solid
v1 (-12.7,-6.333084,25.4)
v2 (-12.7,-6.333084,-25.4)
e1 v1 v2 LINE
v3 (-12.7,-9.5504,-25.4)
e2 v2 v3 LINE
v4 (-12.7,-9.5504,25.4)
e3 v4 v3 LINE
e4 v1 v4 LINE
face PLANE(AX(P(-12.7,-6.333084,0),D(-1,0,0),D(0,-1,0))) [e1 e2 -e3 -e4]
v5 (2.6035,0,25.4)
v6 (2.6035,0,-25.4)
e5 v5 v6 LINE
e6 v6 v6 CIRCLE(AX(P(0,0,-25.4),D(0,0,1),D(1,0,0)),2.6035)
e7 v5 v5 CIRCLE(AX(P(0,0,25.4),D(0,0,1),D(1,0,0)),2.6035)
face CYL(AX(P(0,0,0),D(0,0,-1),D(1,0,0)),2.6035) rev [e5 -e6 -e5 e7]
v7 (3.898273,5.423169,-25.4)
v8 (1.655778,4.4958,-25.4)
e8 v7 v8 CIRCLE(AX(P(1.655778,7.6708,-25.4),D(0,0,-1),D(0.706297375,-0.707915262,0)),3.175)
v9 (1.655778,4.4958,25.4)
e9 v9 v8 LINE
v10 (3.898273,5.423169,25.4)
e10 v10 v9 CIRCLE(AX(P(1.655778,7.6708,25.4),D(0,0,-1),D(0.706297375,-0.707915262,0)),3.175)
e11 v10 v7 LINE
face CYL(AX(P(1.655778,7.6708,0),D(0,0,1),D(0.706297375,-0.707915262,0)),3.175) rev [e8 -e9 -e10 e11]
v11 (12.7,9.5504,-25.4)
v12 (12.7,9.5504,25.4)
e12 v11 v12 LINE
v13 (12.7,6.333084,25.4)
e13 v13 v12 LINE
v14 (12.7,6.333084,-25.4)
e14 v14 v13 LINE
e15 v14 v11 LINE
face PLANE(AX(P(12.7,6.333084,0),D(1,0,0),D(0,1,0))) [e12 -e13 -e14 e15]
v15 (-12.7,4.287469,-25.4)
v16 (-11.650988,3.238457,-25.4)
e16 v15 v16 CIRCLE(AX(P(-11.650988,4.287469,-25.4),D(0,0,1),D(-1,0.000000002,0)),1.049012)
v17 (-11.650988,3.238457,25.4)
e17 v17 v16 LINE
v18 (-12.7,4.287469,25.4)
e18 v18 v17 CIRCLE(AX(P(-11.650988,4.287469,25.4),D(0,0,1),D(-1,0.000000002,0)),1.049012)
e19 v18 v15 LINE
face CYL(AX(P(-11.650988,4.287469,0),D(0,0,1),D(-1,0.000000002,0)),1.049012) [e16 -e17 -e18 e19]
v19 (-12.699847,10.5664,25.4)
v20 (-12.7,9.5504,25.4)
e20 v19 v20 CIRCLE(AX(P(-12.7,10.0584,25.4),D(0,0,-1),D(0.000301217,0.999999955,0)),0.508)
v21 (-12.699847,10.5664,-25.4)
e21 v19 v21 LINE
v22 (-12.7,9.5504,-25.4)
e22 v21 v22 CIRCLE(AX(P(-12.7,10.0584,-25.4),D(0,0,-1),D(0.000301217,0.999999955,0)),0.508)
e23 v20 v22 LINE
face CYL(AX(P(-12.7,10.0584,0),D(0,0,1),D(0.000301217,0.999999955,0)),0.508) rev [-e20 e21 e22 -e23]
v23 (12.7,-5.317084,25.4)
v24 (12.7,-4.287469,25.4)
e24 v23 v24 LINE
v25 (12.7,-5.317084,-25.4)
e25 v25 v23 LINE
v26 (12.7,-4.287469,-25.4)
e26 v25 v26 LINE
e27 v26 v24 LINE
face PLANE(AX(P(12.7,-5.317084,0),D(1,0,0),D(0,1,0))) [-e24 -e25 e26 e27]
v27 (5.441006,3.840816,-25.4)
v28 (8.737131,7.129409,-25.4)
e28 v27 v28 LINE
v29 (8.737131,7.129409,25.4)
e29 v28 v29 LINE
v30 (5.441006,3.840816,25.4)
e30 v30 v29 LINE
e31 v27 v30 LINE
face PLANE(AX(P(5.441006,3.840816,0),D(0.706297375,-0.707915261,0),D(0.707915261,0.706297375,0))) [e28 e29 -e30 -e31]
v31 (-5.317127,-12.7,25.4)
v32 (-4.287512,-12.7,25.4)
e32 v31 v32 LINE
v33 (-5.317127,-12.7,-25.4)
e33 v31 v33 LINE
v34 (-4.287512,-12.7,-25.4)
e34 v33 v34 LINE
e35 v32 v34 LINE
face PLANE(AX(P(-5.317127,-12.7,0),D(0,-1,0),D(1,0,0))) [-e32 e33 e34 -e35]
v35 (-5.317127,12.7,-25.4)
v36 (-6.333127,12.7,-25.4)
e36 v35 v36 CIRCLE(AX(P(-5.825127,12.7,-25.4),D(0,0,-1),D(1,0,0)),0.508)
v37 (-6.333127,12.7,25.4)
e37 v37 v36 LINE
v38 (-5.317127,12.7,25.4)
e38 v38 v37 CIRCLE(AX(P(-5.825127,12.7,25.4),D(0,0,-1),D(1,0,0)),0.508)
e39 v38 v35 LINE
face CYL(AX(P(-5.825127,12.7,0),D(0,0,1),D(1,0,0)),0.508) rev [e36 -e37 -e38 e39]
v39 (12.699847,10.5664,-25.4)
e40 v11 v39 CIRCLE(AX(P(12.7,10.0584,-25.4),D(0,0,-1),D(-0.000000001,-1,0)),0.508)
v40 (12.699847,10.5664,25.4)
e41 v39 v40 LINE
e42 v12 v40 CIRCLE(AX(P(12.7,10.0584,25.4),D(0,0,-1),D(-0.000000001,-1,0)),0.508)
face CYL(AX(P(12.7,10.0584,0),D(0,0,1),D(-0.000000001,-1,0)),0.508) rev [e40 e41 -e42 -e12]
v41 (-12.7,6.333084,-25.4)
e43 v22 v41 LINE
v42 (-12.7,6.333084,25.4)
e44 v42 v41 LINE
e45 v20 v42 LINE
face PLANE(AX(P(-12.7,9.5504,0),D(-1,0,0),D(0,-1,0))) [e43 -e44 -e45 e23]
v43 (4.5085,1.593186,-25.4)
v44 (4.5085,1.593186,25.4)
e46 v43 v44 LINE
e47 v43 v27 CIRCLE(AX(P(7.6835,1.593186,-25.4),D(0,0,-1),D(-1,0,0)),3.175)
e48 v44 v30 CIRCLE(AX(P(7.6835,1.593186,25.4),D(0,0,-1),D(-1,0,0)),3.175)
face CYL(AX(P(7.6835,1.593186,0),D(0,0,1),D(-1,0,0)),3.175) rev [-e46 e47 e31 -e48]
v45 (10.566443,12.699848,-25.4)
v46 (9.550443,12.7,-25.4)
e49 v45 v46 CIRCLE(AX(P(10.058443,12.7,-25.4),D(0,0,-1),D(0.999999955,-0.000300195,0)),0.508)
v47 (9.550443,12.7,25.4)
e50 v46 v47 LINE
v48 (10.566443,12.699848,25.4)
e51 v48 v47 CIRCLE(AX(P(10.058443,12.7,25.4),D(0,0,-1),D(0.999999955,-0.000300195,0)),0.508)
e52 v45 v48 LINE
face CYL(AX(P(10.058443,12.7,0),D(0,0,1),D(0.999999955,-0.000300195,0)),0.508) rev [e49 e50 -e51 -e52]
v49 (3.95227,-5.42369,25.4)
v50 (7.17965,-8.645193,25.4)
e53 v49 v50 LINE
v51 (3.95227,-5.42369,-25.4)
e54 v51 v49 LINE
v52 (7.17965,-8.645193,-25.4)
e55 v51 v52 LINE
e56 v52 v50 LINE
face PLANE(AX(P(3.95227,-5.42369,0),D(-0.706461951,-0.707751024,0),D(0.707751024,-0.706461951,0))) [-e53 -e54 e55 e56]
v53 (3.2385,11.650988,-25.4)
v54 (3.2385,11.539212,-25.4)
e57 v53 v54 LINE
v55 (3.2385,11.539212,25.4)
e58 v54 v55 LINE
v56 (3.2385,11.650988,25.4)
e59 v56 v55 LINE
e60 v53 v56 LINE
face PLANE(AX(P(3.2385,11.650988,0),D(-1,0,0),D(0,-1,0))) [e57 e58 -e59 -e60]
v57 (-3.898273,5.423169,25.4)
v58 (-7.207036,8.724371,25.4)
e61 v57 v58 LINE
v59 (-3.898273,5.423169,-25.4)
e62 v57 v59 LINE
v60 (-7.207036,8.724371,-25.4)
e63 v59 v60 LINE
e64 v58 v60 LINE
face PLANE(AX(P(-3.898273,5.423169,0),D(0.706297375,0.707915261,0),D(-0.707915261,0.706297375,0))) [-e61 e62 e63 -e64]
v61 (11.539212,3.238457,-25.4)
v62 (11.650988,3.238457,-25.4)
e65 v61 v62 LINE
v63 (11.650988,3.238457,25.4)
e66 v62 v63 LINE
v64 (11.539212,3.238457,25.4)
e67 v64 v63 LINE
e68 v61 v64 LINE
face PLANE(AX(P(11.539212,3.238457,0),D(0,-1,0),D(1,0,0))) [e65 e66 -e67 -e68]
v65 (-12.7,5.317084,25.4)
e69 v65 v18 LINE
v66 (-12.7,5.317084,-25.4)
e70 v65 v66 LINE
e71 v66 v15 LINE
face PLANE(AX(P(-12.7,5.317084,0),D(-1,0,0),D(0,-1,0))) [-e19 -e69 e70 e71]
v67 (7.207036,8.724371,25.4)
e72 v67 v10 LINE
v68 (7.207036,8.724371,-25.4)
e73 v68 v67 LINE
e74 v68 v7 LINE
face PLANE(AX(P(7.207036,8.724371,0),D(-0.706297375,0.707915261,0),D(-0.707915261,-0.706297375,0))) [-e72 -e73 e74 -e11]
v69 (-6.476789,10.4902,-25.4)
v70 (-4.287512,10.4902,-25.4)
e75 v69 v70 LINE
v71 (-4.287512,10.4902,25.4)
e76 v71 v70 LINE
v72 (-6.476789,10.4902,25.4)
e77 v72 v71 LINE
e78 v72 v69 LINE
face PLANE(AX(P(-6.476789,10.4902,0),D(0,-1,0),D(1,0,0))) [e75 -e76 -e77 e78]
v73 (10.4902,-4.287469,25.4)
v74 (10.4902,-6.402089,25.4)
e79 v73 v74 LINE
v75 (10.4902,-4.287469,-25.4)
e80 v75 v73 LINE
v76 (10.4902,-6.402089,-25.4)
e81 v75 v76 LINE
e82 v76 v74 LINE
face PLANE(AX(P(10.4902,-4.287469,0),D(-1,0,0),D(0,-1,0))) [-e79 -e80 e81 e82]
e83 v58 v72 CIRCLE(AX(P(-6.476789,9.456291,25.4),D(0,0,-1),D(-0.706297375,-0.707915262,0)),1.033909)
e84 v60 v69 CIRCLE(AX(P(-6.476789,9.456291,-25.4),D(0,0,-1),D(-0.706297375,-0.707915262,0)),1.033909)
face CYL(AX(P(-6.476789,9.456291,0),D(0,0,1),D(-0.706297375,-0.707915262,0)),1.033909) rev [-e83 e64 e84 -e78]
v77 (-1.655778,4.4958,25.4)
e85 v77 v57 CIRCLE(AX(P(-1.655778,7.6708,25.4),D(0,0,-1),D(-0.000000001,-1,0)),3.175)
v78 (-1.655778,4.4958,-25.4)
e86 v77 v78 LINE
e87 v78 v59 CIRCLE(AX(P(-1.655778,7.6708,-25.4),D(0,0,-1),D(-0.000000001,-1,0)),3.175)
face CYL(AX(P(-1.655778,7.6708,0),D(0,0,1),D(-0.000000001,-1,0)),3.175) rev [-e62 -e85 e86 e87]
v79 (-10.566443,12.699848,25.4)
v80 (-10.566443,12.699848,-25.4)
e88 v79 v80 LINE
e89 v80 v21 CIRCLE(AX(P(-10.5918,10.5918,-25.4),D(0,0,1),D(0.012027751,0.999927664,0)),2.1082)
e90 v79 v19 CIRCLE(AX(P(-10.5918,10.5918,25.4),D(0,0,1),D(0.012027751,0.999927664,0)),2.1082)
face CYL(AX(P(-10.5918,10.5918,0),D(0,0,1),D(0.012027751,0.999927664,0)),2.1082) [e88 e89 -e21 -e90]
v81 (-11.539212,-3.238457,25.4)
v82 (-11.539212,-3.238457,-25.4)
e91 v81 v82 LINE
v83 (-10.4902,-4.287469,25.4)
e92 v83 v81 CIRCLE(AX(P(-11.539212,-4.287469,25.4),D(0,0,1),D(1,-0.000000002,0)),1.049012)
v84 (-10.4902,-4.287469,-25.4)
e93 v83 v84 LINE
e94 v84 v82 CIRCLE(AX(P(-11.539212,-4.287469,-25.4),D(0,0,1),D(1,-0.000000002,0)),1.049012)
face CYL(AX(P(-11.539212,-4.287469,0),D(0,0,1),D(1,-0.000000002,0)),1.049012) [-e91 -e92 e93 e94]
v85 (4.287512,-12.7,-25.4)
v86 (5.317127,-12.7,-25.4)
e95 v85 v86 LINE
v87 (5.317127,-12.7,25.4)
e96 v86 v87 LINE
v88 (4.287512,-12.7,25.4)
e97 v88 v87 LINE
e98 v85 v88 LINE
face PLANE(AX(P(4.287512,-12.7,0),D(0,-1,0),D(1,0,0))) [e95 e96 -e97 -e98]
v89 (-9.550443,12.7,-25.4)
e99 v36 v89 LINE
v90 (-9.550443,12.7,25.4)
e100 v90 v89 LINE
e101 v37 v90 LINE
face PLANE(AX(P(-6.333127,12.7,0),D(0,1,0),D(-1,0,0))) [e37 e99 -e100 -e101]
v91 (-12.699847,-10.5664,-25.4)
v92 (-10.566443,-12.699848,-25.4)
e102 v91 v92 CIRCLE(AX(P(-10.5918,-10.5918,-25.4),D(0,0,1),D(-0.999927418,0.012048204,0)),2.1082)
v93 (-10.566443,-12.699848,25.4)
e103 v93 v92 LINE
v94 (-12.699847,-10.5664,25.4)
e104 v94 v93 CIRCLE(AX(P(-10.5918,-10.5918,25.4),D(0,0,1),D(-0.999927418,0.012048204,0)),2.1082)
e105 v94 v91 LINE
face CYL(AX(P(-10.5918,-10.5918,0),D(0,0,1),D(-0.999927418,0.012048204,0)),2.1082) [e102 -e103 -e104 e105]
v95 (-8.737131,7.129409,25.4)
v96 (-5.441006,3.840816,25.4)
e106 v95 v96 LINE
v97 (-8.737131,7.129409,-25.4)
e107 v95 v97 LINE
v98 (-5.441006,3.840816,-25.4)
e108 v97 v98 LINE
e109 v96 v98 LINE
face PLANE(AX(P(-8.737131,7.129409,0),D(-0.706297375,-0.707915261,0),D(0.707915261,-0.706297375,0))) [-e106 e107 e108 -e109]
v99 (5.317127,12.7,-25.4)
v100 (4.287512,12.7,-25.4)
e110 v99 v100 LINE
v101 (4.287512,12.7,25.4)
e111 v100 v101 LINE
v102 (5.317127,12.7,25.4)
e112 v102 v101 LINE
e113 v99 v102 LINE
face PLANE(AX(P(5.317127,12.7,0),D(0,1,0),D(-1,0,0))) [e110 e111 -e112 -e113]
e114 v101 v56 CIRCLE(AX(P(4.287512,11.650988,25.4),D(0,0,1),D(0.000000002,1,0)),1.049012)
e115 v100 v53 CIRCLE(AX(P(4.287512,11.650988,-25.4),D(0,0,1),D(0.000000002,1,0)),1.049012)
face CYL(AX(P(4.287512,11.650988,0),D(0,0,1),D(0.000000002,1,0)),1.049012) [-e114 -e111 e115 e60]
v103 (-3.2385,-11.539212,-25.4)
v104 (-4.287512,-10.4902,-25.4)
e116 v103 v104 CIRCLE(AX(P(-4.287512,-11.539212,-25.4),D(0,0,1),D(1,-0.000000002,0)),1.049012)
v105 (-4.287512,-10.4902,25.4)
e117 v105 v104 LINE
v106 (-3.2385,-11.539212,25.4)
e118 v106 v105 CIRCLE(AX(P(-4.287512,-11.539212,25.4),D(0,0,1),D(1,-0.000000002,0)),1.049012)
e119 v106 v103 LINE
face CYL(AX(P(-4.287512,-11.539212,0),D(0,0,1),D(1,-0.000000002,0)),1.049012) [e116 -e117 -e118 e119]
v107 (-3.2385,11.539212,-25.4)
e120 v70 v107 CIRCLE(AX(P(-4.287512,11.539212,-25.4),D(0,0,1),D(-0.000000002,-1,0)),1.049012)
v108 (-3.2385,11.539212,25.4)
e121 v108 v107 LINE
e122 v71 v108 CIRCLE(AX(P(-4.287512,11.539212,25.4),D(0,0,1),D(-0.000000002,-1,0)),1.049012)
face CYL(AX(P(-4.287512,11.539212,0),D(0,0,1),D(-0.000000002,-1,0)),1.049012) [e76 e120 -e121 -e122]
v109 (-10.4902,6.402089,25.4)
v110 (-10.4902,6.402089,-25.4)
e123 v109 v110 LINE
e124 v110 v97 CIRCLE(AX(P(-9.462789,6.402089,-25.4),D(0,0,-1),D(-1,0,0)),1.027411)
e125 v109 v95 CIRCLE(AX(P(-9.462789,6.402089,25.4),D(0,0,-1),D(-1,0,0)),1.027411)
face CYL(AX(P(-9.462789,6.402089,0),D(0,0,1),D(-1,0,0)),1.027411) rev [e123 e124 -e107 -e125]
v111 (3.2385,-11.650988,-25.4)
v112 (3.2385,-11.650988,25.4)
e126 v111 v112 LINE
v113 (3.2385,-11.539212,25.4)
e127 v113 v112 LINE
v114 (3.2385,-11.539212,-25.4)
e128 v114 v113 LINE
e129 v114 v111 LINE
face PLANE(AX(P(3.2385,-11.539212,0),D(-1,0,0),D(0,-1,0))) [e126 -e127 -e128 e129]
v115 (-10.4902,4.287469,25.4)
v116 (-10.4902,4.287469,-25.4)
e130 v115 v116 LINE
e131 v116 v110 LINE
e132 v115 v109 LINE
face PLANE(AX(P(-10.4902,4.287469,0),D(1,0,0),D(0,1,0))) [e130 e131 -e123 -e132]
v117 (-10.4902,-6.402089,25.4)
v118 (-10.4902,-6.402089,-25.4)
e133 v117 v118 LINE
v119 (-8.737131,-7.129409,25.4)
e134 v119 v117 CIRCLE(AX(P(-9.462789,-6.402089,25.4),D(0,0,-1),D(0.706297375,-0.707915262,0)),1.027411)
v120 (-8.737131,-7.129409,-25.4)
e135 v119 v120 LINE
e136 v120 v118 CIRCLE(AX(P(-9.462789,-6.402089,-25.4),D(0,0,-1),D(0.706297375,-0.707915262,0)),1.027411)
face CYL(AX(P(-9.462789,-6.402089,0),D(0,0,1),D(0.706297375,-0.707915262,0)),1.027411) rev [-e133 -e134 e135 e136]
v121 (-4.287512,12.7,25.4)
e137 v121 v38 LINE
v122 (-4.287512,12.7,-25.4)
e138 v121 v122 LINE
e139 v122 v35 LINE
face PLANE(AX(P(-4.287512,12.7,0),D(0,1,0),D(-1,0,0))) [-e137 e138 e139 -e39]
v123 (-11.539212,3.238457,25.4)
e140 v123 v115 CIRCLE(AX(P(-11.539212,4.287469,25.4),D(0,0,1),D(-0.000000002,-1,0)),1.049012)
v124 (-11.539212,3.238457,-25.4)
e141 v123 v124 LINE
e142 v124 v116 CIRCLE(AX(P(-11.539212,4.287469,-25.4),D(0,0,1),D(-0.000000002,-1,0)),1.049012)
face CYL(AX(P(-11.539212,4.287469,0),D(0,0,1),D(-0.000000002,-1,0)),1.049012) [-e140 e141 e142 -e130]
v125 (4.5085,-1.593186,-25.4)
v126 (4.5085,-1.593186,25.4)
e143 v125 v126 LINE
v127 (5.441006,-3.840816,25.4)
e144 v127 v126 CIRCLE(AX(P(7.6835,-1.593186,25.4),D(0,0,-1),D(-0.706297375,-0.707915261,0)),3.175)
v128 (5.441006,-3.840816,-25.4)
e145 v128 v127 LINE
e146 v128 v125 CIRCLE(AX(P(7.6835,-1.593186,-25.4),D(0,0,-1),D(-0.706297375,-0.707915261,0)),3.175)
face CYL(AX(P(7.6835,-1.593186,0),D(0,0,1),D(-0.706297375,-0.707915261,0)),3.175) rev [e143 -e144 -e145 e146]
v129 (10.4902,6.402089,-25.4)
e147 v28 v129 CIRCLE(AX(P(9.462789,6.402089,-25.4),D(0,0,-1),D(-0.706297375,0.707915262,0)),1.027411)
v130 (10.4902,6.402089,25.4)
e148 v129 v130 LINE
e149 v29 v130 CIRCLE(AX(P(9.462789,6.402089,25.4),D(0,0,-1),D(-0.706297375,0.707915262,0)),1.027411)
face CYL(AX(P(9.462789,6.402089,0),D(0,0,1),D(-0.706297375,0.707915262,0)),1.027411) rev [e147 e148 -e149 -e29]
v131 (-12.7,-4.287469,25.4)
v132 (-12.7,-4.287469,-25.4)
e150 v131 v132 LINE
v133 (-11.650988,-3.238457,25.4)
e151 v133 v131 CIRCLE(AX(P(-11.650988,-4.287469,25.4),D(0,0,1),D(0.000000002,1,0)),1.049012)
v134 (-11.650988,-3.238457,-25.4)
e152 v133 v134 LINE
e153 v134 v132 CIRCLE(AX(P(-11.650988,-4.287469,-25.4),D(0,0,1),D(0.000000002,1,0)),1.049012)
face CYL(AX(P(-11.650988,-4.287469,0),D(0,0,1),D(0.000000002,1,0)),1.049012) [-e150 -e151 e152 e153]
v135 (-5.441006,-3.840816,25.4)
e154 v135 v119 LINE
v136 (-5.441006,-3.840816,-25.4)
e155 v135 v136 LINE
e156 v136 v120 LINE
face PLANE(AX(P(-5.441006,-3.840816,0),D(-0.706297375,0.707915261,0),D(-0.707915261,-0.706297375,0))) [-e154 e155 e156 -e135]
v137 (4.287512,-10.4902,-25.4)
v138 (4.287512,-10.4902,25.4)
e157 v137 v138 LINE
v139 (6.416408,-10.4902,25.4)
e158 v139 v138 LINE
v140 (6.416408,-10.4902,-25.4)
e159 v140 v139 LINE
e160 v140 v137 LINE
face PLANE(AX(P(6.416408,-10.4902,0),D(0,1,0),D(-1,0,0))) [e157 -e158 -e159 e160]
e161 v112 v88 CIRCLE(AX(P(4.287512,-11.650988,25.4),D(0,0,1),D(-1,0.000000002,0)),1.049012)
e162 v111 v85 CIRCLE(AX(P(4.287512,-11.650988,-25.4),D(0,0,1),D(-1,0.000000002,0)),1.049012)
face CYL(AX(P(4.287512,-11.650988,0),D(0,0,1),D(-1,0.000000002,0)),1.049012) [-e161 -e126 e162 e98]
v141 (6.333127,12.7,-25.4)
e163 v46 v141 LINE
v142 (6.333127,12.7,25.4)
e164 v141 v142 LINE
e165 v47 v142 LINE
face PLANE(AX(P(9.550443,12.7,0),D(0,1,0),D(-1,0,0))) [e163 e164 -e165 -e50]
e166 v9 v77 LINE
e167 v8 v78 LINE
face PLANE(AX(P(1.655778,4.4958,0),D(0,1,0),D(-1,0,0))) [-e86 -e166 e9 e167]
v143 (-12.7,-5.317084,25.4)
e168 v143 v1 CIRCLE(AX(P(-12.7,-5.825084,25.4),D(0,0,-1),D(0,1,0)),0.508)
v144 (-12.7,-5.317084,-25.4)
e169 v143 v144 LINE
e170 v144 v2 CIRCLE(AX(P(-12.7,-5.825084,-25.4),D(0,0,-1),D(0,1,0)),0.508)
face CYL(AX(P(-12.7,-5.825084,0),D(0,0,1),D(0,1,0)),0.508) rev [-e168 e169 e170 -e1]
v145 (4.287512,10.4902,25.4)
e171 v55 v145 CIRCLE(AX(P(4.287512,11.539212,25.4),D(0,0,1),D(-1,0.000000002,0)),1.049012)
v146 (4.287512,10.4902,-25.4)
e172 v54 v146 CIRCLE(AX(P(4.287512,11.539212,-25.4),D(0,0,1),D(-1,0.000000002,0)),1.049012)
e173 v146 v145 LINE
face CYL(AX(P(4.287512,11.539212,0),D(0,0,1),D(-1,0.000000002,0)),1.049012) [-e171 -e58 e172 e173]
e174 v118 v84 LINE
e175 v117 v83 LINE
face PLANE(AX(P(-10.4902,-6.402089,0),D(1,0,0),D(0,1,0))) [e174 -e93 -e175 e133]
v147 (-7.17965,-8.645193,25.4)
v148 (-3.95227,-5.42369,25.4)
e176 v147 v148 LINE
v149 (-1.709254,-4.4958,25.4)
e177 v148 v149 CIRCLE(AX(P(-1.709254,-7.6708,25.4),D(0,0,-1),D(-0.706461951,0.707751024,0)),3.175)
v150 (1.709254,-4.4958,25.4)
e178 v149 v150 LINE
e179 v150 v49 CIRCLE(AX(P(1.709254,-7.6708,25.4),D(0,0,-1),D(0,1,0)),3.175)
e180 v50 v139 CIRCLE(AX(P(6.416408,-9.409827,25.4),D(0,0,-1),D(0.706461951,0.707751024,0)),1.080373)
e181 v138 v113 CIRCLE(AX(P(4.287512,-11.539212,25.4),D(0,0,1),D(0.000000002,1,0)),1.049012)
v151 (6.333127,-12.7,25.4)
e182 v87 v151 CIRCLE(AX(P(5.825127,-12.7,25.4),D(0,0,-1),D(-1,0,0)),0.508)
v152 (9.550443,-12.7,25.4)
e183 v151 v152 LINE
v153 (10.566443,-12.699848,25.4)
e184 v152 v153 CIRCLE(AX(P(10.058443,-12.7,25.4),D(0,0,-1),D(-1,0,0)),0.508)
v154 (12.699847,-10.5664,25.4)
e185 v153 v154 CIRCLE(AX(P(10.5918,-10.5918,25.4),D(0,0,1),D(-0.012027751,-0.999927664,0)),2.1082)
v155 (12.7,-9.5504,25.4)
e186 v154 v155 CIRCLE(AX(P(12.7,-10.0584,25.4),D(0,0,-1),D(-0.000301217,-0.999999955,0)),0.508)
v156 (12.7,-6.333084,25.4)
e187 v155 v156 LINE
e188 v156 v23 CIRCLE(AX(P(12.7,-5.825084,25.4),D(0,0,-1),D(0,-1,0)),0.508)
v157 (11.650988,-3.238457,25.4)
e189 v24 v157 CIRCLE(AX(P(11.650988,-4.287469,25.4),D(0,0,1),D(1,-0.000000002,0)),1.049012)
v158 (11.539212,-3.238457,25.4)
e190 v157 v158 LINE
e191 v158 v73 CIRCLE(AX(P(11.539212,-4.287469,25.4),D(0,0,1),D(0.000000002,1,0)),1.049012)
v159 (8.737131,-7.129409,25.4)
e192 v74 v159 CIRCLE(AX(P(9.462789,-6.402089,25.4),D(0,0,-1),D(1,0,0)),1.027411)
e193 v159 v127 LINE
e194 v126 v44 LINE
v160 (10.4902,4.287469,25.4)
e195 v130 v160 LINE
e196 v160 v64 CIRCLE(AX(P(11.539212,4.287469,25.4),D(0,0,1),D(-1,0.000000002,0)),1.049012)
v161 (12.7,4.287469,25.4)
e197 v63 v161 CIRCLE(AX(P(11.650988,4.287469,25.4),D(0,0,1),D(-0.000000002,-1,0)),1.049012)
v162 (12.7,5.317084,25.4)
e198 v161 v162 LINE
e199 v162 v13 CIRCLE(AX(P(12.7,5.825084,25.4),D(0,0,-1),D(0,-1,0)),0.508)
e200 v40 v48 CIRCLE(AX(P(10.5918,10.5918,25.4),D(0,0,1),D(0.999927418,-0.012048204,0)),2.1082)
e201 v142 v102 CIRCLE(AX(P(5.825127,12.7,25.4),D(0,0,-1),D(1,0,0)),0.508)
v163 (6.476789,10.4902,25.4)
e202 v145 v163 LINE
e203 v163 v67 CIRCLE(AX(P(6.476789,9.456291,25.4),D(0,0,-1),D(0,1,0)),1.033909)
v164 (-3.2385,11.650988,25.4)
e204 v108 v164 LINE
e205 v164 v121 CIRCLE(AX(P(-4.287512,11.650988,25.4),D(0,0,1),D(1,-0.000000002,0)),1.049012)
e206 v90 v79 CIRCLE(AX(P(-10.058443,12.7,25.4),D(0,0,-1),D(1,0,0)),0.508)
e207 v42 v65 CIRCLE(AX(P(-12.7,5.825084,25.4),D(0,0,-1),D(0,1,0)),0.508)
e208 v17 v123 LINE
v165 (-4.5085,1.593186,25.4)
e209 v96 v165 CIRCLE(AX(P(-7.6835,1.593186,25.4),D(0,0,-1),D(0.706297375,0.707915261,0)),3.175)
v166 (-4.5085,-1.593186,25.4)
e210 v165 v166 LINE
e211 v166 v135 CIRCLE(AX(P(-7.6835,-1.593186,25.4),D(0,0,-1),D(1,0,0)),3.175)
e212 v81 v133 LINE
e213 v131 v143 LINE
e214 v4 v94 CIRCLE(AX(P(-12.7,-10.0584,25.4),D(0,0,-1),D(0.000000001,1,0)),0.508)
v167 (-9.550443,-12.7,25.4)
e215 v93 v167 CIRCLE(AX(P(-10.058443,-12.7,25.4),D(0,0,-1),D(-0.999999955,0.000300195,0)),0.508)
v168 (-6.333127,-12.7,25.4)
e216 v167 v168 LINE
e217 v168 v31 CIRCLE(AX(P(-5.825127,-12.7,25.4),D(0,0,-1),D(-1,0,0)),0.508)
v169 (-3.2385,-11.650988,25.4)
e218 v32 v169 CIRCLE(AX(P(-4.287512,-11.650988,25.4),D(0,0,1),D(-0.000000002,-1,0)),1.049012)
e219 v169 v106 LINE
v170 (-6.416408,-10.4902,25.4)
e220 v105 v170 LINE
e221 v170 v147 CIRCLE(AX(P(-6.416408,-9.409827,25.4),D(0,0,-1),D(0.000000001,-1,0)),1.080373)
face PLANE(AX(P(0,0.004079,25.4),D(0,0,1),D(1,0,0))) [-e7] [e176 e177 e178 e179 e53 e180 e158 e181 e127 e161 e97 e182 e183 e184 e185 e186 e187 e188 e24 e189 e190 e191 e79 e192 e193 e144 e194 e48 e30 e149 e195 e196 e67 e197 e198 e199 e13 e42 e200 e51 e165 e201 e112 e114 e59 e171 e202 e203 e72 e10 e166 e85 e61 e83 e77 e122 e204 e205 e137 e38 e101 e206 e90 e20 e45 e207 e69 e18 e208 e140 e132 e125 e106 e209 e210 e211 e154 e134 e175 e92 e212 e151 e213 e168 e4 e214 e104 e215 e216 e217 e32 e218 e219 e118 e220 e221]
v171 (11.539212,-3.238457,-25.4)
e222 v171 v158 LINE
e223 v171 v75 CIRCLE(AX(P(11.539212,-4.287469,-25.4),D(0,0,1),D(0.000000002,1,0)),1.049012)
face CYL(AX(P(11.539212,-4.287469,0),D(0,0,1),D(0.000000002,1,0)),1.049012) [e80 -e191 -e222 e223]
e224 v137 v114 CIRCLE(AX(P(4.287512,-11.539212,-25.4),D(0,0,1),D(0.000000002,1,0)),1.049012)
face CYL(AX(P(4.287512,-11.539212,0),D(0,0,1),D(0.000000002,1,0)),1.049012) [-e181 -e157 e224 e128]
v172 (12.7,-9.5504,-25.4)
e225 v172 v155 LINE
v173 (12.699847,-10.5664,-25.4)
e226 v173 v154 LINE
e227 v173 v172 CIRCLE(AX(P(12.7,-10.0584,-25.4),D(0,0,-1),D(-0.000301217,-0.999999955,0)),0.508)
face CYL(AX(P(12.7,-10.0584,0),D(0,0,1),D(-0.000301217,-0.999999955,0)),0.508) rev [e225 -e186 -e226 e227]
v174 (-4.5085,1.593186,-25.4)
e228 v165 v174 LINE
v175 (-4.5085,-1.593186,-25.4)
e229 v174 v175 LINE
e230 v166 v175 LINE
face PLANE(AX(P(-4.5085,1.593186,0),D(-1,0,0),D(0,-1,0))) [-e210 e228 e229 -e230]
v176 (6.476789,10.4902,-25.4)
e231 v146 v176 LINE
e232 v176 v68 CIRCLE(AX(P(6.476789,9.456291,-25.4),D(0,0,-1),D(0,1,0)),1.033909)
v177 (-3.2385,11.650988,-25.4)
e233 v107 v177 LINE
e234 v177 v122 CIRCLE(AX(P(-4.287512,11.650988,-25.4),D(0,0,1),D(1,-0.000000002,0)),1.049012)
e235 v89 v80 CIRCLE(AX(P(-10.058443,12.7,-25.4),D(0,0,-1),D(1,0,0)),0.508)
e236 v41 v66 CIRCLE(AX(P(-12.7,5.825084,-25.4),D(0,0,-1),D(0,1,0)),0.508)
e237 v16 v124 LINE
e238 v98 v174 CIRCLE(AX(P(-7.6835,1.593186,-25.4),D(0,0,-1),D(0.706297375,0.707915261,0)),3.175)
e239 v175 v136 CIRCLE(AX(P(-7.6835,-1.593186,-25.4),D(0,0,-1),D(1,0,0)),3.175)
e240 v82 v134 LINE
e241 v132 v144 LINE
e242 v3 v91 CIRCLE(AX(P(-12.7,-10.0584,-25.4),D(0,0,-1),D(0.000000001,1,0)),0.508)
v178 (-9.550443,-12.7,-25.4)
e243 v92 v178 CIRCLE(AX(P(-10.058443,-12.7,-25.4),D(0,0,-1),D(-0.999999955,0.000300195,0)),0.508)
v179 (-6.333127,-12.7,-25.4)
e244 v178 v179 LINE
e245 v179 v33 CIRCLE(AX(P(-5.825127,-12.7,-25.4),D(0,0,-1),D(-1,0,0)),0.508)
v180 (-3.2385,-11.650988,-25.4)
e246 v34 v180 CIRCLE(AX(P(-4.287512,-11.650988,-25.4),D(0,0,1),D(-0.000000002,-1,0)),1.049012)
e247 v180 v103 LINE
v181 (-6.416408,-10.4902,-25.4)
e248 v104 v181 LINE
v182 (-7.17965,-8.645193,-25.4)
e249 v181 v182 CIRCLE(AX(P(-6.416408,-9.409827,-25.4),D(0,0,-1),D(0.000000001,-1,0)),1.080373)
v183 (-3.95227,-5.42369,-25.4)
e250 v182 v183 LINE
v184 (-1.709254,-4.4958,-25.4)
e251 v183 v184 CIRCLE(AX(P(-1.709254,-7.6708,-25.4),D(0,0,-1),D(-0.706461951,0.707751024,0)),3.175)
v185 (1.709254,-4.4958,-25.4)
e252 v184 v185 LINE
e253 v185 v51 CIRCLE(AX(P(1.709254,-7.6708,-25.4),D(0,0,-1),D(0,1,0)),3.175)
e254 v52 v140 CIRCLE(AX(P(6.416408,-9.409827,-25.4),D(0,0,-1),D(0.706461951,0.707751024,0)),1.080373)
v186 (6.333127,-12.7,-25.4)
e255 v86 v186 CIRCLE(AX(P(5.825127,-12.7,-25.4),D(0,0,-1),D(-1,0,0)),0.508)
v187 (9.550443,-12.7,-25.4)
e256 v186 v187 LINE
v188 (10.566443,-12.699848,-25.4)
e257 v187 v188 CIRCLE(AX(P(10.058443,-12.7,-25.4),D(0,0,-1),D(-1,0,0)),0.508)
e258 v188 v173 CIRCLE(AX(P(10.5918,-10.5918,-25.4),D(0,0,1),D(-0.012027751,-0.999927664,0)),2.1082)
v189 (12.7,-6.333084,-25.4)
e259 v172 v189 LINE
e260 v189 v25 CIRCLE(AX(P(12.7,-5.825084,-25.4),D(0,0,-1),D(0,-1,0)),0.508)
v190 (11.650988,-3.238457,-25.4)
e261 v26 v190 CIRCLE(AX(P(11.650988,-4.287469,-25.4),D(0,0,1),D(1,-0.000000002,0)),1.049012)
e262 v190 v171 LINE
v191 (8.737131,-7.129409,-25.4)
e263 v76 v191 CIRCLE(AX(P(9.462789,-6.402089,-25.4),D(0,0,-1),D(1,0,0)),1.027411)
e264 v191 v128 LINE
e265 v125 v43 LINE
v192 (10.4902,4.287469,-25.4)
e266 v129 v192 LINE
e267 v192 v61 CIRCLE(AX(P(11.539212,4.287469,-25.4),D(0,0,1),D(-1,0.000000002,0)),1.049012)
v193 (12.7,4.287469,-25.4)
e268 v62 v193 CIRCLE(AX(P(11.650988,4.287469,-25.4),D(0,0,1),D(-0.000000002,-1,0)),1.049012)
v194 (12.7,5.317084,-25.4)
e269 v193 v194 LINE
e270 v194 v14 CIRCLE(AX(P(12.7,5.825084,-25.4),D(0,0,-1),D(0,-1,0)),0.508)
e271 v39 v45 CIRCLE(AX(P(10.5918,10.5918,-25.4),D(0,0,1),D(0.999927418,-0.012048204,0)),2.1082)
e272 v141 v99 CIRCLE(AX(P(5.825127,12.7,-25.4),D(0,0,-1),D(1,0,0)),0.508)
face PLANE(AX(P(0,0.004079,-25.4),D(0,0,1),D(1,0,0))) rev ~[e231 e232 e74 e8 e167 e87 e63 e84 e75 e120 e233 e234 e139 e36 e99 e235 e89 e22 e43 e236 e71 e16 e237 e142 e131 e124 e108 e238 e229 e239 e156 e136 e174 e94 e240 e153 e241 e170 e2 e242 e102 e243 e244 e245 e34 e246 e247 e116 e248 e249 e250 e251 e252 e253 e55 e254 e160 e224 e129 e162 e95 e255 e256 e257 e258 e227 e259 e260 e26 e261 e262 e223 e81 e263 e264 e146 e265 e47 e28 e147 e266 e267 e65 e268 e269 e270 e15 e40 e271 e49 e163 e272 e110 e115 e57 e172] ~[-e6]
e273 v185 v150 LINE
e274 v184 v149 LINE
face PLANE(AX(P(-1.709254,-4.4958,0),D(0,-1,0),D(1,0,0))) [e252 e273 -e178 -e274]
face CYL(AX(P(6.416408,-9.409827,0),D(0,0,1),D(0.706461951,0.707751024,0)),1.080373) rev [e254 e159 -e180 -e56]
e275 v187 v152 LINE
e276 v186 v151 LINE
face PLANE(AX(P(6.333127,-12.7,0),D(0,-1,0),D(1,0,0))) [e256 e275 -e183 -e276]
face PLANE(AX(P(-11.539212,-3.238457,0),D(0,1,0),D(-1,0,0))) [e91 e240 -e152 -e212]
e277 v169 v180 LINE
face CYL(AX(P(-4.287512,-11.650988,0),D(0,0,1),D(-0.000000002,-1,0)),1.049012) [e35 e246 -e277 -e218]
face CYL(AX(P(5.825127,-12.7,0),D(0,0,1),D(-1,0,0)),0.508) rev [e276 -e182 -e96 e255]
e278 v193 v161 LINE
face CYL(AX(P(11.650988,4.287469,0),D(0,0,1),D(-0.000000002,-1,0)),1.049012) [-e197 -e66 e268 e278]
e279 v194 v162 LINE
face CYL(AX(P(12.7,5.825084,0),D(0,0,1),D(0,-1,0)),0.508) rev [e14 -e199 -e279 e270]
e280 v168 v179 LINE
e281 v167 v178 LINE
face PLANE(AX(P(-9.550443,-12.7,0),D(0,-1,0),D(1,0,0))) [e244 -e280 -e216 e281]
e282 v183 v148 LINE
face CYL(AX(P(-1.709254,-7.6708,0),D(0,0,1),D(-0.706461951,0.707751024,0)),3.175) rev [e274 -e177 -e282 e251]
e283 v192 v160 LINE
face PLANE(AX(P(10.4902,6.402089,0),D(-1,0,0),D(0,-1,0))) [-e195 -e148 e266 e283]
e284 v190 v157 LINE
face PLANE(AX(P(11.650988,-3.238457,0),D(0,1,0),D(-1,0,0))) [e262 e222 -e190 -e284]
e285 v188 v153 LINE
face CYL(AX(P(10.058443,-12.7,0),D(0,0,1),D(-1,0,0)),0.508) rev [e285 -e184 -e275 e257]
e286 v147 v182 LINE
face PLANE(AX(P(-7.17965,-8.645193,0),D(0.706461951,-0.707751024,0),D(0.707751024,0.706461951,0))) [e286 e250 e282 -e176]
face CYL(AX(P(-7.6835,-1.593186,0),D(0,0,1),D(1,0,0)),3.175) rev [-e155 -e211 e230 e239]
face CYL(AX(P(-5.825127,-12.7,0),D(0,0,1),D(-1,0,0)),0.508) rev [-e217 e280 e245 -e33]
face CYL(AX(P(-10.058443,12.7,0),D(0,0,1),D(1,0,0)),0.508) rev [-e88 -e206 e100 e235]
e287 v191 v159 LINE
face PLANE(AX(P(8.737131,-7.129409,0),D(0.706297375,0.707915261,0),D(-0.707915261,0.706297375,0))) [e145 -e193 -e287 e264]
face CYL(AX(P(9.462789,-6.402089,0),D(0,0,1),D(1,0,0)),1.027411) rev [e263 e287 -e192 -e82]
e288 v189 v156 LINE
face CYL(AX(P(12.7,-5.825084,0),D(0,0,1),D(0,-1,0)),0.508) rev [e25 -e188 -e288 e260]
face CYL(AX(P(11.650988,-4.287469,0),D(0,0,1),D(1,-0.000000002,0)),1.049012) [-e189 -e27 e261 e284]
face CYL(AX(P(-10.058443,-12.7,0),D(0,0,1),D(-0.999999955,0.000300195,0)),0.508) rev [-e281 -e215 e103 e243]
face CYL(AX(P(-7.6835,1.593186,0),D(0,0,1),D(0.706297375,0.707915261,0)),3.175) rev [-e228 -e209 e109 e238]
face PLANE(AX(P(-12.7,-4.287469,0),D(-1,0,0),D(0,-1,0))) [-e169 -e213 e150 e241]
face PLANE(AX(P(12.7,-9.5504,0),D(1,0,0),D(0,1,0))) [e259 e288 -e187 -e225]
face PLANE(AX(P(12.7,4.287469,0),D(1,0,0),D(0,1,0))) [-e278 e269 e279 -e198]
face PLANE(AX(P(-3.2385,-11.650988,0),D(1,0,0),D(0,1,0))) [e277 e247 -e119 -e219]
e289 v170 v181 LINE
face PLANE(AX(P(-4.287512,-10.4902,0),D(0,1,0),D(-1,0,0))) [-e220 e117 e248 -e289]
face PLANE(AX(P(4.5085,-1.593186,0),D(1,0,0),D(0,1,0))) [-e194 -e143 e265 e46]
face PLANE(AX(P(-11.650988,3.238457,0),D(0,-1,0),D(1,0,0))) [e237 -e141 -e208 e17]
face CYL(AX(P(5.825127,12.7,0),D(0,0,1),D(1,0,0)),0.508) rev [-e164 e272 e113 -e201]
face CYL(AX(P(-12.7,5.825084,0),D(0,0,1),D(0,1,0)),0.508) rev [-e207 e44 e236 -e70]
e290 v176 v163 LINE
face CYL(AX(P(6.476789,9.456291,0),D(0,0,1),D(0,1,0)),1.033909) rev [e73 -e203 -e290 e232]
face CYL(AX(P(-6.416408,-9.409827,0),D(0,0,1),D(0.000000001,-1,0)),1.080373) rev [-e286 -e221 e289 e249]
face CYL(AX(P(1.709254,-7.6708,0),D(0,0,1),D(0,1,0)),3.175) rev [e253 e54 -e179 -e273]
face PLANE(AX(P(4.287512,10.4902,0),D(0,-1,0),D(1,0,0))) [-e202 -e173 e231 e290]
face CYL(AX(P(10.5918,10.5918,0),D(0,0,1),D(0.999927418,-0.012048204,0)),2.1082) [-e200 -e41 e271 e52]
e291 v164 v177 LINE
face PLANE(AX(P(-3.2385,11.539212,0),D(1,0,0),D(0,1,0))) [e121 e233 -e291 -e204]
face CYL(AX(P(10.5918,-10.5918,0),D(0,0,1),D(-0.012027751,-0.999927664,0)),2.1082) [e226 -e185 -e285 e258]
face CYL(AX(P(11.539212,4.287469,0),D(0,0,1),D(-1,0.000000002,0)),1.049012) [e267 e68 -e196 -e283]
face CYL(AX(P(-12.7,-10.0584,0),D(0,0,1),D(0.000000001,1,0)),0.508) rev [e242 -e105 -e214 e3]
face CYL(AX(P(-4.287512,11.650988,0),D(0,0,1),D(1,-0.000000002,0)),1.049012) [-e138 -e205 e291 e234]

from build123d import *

# Parameters (mm, degrees)
SKETCH1_R           = 2.6035
BOSS_EXTRUDE1_DEPTH = 25.4


with BuildPart() as part:
    # Sketch1 → Boss-Extrude1 (new, symmetric)
    with BuildSketch(Plane.XY):
        with BuildLine():
            Line((-7.179650497, -8.645192506), (-3.952270251, -5.423690499))
            ThreePointArc((-3.952270251, -5.423690499), (-2.922936451, -4.736929036), (-1.709253557, -4.4958))
            Line((-1.709253557, -4.4958), (1.709253557, -4.4958))
            ThreePointArc((1.709253557, -4.4958), (2.922936451, -4.736929036), (3.952270251, -5.423690499))
            Line((3.952270251, -5.423690499), (7.179650497, -8.645192506))
            ThreePointArc((7.179650497, -8.645192506), (7.41473083, -9.822813117), (6.416408329, -10.4902))
            Line((6.416408329, -10.4902), (4.287512407, -10.4902))
            ThreePointArc((4.287512407, -10.4902), (3.54574862, -10.79744862), (3.2385, -11.539212407))
            Line((3.2385, -11.539212407), (3.2385, -11.650987593))
            ThreePointArc((3.2385, -11.650987593), (3.54574862, -12.39275138), (4.287512407, -12.7))
            Line((4.287512407, -12.7), (5.317126718, -12.7))
            ThreePointArc((5.317126718, -12.7), (5.825126718, -12.192), (6.333126718, -12.7))
            Line((6.333126718, -12.7), (9.550443118, -12.7))
            ThreePointArc((9.550443118, -12.7), (10.058366869, -12.192000006), (10.566443095, -12.699847501))
            ThreePointArc((10.566443095, -12.699847501), (12.082537762, -12.08250727), (12.699846982, -10.566399977))
            ThreePointArc((12.699846982, -10.566399977), (12.192000006, -10.058323491), (12.7, -9.5504))
            Line((12.7, -9.5504), (12.7, -6.3330836))
            ThreePointArc((12.7, -6.3330836), (12.192, -5.8250836), (12.7, -5.3170836))
            Line((12.7, -5.3170836), (12.7, -4.287469289))
            ThreePointArc((12.7, -4.287469289), (12.39275138, -3.545705502), (11.650987593, -3.238456882))
            Line((11.650987593, -3.238456882), (11.539212407, -3.238456882))
            ThreePointArc((11.539212407, -3.238456882), (10.79744862, -3.545705502), (10.4902, -4.287469289))
            Line((10.4902, -4.287469289), (10.4902, -6.402089023))
            ThreePointArc((10.4902, -6.402089023), (9.856505071, -7.351067942), (8.737131347, -7.129408934))
            Line((8.737131347, -7.129408934), (5.441005833, -3.840816462))
            ThreePointArc((5.441005833, -3.840816462), (4.750877967, -2.809883091), (4.5085, -1.593185507))
            Line((4.5085, -1.593185507), (4.5085, 1.593185507))
            ThreePointArc((4.5085, 1.593185507), (4.750877967, 2.809883091), (5.441005833, 3.840816462))
            Line((5.441005833, 3.840816462), (8.737131347, 7.129408934))
            ThreePointArc((8.737131347, 7.129408934), (9.856505071, 7.351067942), (10.4902, 6.402089023))
            Line((10.4902, 6.402089023), (10.4902, 4.287469289))
            ThreePointArc((10.4902, 4.287469289), (10.79744862, 3.545705502), (11.539212407, 3.238456882))
            Line((11.539212407, 3.238456882), (11.650987593, 3.238456882))
            ThreePointArc((11.650987593, 3.238456882), (12.39275138, 3.545705502), (12.7, 4.287469289))
            Line((12.7, 4.287469289), (12.7, 5.3170836))
            ThreePointArc((12.7, 5.3170836), (12.192, 5.8250836), (12.7, 6.3330836))
            Line((12.7, 6.3330836), (12.7, 9.5504))
            ThreePointArc((12.7, 9.5504), (12.192000006, 10.058323491), (12.699846982, 10.566399977))
            ThreePointArc((12.699846982, 10.566399977), (12.082537762, 12.08250727), (10.566443095, 12.699847501))
            ThreePointArc((10.566443095, 12.699847501), (10.058366869, 12.192000006), (9.550443118, 12.7))
            Line((9.550443118, 12.7), (6.333126718, 12.7))
            ThreePointArc((6.333126718, 12.7), (5.825126718, 12.192), (5.317126718, 12.7))
            Line((5.317126718, 12.7), (4.287512407, 12.7))
            ThreePointArc((4.287512407, 12.7), (3.54574862, 12.39275138), (3.2385, 11.650987593))
            Line((3.2385, 11.650987593), (3.2385, 11.539212407))
            ThreePointArc((3.2385, 11.539212407), (3.54574862, 10.79744862), (4.287512407, 10.4902))
            Line((4.287512407, 10.4902), (6.476788598, 10.4902))
            ThreePointArc((6.476788598, 10.4902), (7.432222385, 9.85140422), (7.207036008, 8.724370562))
            Line((7.207036008, 8.724370562), (3.898272566, 5.423169045))
            ThreePointArc((3.898272566, 5.423169045), (2.869120213, 4.736787962), (1.655778399, 4.4958))
            Line((1.655778399, 4.4958), (-1.655778399, 4.4958))
            ThreePointArc((-1.655778399, 4.4958), (-2.869120213, 4.736787962), (-3.898272566, 5.423169045))
            Line((-3.898272566, 5.423169045), (-7.207036008, 8.724370562))
            ThreePointArc((-7.207036008, 8.724370562), (-7.432222385, 9.85140422), (-6.476788598, 10.4902))
            Line((-6.476788598, 10.4902), (-4.287512407, 10.4902))
            ThreePointArc((-4.287512407, 10.4902), (-3.54574862, 10.79744862), (-3.2385, 11.539212407))
            Line((-3.2385, 11.539212407), (-3.2385, 11.650987593))
            ThreePointArc((-3.2385, 11.650987593), (-3.54574862, 12.39275138), (-4.287512407, 12.7))
            Line((-4.287512407, 12.7), (-5.317126718, 12.7))
            ThreePointArc((-5.317126718, 12.7), (-5.825126718, 12.192), (-6.333126718, 12.7))
            Line((-6.333126718, 12.7), (-9.550443118, 12.7))
            ThreePointArc((-9.550443118, 12.7), (-10.058366869, 12.192000006), (-10.566443095, 12.699847501))
            ThreePointArc((-10.566443095, 12.699847501), (-12.082537762, 12.08250727), (-12.699846982, 10.566399977))
            ThreePointArc((-12.699846982, 10.566399977), (-12.192000006, 10.058323491), (-12.7, 9.5504))
            Line((-12.7, 9.5504), (-12.7, 6.3330836))
            ThreePointArc((-12.7, 6.3330836), (-12.192, 5.8250836), (-12.7, 5.3170836))
            Line((-12.7, 5.3170836), (-12.7, 4.287469289))
            ThreePointArc((-12.7, 4.287469289), (-12.39275138, 3.545705502), (-11.650987593, 3.238456882))
            Line((-11.650987593, 3.238456882), (-11.539212407, 3.238456882))
            ThreePointArc((-11.539212407, 3.238456882), (-10.79744862, 3.545705502), (-10.4902, 4.287469289))
            Line((-10.4902, 4.287469289), (-10.4902, 6.402089023))
            ThreePointArc((-10.4902, 6.402089023), (-9.856505071, 7.351067942), (-8.737131347, 7.129408934))
            Line((-8.737131347, 7.129408934), (-5.441005833, 3.840816462))
            ThreePointArc((-5.441005833, 3.840816462), (-4.750877967, 2.809883091), (-4.5085, 1.593185507))
            Line((-4.5085, 1.593185507), (-4.5085, -1.593185507))
            ThreePointArc((-4.5085, -1.593185507), (-4.750877967, -2.809883091), (-5.441005833, -3.840816462))
            Line((-5.441005833, -3.840816462), (-8.737131347, -7.129408934))
            ThreePointArc((-8.737131347, -7.129408934), (-9.856505071, -7.351067942), (-10.4902, -6.402089023))
            Line((-10.4902, -6.402089023), (-10.4902, -4.287469289))
            ThreePointArc((-10.4902, -4.287469289), (-10.79744862, -3.545705502), (-11.539212407, -3.238456882))
            Line((-11.539212407, -3.238456882), (-11.650987593, -3.238456882))
            ThreePointArc((-11.650987593, -3.238456882), (-12.39275138, -3.545705502), (-12.7, -4.287469289))
            Line((-12.7, -4.287469289), (-12.7, -5.3170836))
            ThreePointArc((-12.7, -5.3170836), (-12.192, -5.8250836), (-12.7, -6.3330836))
            Line((-12.7, -6.3330836), (-12.7, -9.5504))
            ThreePointArc((-12.7, -9.5504), (-12.192000006, -10.058323491), (-12.699846982, -10.566399977))
            ThreePointArc((-12.699846982, -10.566399977), (-12.082537762, -12.08250727), (-10.566443095, -12.699847501))
            ThreePointArc((-10.566443095, -12.699847501), (-10.058366869, -12.192000006), (-9.550443118, -12.7))
            Line((-9.550443118, -12.7), (-6.333126718, -12.7))
            ThreePointArc((-6.333126718, -12.7), (-5.825126718, -12.192), (-5.317126718, -12.7))
            Line((-5.317126718, -12.7), (-4.287512407, -12.7))
            ThreePointArc((-4.287512407, -12.7), (-3.54574862, -12.39275138), (-3.2385, -11.650987593))
            Line((-3.2385, -11.650987593), (-3.2385, -11.539212407))
            ThreePointArc((-3.2385, -11.539212407), (-3.54574862, -10.79744862), (-4.287512407, -10.4902))
            Line((-4.287512407, -10.4902), (-6.416408329, -10.4902))
            ThreePointArc((-6.416408329, -10.4902), (-7.41473083, -9.822813117), (-7.179650497, -8.645192506))
        make_face()
        Circle(SKETCH1_R, mode=Mode.SUBTRACT)
    extrude(amount=BOSS_EXTRUDE1_DEPTH, both=True)


solid = part.part
